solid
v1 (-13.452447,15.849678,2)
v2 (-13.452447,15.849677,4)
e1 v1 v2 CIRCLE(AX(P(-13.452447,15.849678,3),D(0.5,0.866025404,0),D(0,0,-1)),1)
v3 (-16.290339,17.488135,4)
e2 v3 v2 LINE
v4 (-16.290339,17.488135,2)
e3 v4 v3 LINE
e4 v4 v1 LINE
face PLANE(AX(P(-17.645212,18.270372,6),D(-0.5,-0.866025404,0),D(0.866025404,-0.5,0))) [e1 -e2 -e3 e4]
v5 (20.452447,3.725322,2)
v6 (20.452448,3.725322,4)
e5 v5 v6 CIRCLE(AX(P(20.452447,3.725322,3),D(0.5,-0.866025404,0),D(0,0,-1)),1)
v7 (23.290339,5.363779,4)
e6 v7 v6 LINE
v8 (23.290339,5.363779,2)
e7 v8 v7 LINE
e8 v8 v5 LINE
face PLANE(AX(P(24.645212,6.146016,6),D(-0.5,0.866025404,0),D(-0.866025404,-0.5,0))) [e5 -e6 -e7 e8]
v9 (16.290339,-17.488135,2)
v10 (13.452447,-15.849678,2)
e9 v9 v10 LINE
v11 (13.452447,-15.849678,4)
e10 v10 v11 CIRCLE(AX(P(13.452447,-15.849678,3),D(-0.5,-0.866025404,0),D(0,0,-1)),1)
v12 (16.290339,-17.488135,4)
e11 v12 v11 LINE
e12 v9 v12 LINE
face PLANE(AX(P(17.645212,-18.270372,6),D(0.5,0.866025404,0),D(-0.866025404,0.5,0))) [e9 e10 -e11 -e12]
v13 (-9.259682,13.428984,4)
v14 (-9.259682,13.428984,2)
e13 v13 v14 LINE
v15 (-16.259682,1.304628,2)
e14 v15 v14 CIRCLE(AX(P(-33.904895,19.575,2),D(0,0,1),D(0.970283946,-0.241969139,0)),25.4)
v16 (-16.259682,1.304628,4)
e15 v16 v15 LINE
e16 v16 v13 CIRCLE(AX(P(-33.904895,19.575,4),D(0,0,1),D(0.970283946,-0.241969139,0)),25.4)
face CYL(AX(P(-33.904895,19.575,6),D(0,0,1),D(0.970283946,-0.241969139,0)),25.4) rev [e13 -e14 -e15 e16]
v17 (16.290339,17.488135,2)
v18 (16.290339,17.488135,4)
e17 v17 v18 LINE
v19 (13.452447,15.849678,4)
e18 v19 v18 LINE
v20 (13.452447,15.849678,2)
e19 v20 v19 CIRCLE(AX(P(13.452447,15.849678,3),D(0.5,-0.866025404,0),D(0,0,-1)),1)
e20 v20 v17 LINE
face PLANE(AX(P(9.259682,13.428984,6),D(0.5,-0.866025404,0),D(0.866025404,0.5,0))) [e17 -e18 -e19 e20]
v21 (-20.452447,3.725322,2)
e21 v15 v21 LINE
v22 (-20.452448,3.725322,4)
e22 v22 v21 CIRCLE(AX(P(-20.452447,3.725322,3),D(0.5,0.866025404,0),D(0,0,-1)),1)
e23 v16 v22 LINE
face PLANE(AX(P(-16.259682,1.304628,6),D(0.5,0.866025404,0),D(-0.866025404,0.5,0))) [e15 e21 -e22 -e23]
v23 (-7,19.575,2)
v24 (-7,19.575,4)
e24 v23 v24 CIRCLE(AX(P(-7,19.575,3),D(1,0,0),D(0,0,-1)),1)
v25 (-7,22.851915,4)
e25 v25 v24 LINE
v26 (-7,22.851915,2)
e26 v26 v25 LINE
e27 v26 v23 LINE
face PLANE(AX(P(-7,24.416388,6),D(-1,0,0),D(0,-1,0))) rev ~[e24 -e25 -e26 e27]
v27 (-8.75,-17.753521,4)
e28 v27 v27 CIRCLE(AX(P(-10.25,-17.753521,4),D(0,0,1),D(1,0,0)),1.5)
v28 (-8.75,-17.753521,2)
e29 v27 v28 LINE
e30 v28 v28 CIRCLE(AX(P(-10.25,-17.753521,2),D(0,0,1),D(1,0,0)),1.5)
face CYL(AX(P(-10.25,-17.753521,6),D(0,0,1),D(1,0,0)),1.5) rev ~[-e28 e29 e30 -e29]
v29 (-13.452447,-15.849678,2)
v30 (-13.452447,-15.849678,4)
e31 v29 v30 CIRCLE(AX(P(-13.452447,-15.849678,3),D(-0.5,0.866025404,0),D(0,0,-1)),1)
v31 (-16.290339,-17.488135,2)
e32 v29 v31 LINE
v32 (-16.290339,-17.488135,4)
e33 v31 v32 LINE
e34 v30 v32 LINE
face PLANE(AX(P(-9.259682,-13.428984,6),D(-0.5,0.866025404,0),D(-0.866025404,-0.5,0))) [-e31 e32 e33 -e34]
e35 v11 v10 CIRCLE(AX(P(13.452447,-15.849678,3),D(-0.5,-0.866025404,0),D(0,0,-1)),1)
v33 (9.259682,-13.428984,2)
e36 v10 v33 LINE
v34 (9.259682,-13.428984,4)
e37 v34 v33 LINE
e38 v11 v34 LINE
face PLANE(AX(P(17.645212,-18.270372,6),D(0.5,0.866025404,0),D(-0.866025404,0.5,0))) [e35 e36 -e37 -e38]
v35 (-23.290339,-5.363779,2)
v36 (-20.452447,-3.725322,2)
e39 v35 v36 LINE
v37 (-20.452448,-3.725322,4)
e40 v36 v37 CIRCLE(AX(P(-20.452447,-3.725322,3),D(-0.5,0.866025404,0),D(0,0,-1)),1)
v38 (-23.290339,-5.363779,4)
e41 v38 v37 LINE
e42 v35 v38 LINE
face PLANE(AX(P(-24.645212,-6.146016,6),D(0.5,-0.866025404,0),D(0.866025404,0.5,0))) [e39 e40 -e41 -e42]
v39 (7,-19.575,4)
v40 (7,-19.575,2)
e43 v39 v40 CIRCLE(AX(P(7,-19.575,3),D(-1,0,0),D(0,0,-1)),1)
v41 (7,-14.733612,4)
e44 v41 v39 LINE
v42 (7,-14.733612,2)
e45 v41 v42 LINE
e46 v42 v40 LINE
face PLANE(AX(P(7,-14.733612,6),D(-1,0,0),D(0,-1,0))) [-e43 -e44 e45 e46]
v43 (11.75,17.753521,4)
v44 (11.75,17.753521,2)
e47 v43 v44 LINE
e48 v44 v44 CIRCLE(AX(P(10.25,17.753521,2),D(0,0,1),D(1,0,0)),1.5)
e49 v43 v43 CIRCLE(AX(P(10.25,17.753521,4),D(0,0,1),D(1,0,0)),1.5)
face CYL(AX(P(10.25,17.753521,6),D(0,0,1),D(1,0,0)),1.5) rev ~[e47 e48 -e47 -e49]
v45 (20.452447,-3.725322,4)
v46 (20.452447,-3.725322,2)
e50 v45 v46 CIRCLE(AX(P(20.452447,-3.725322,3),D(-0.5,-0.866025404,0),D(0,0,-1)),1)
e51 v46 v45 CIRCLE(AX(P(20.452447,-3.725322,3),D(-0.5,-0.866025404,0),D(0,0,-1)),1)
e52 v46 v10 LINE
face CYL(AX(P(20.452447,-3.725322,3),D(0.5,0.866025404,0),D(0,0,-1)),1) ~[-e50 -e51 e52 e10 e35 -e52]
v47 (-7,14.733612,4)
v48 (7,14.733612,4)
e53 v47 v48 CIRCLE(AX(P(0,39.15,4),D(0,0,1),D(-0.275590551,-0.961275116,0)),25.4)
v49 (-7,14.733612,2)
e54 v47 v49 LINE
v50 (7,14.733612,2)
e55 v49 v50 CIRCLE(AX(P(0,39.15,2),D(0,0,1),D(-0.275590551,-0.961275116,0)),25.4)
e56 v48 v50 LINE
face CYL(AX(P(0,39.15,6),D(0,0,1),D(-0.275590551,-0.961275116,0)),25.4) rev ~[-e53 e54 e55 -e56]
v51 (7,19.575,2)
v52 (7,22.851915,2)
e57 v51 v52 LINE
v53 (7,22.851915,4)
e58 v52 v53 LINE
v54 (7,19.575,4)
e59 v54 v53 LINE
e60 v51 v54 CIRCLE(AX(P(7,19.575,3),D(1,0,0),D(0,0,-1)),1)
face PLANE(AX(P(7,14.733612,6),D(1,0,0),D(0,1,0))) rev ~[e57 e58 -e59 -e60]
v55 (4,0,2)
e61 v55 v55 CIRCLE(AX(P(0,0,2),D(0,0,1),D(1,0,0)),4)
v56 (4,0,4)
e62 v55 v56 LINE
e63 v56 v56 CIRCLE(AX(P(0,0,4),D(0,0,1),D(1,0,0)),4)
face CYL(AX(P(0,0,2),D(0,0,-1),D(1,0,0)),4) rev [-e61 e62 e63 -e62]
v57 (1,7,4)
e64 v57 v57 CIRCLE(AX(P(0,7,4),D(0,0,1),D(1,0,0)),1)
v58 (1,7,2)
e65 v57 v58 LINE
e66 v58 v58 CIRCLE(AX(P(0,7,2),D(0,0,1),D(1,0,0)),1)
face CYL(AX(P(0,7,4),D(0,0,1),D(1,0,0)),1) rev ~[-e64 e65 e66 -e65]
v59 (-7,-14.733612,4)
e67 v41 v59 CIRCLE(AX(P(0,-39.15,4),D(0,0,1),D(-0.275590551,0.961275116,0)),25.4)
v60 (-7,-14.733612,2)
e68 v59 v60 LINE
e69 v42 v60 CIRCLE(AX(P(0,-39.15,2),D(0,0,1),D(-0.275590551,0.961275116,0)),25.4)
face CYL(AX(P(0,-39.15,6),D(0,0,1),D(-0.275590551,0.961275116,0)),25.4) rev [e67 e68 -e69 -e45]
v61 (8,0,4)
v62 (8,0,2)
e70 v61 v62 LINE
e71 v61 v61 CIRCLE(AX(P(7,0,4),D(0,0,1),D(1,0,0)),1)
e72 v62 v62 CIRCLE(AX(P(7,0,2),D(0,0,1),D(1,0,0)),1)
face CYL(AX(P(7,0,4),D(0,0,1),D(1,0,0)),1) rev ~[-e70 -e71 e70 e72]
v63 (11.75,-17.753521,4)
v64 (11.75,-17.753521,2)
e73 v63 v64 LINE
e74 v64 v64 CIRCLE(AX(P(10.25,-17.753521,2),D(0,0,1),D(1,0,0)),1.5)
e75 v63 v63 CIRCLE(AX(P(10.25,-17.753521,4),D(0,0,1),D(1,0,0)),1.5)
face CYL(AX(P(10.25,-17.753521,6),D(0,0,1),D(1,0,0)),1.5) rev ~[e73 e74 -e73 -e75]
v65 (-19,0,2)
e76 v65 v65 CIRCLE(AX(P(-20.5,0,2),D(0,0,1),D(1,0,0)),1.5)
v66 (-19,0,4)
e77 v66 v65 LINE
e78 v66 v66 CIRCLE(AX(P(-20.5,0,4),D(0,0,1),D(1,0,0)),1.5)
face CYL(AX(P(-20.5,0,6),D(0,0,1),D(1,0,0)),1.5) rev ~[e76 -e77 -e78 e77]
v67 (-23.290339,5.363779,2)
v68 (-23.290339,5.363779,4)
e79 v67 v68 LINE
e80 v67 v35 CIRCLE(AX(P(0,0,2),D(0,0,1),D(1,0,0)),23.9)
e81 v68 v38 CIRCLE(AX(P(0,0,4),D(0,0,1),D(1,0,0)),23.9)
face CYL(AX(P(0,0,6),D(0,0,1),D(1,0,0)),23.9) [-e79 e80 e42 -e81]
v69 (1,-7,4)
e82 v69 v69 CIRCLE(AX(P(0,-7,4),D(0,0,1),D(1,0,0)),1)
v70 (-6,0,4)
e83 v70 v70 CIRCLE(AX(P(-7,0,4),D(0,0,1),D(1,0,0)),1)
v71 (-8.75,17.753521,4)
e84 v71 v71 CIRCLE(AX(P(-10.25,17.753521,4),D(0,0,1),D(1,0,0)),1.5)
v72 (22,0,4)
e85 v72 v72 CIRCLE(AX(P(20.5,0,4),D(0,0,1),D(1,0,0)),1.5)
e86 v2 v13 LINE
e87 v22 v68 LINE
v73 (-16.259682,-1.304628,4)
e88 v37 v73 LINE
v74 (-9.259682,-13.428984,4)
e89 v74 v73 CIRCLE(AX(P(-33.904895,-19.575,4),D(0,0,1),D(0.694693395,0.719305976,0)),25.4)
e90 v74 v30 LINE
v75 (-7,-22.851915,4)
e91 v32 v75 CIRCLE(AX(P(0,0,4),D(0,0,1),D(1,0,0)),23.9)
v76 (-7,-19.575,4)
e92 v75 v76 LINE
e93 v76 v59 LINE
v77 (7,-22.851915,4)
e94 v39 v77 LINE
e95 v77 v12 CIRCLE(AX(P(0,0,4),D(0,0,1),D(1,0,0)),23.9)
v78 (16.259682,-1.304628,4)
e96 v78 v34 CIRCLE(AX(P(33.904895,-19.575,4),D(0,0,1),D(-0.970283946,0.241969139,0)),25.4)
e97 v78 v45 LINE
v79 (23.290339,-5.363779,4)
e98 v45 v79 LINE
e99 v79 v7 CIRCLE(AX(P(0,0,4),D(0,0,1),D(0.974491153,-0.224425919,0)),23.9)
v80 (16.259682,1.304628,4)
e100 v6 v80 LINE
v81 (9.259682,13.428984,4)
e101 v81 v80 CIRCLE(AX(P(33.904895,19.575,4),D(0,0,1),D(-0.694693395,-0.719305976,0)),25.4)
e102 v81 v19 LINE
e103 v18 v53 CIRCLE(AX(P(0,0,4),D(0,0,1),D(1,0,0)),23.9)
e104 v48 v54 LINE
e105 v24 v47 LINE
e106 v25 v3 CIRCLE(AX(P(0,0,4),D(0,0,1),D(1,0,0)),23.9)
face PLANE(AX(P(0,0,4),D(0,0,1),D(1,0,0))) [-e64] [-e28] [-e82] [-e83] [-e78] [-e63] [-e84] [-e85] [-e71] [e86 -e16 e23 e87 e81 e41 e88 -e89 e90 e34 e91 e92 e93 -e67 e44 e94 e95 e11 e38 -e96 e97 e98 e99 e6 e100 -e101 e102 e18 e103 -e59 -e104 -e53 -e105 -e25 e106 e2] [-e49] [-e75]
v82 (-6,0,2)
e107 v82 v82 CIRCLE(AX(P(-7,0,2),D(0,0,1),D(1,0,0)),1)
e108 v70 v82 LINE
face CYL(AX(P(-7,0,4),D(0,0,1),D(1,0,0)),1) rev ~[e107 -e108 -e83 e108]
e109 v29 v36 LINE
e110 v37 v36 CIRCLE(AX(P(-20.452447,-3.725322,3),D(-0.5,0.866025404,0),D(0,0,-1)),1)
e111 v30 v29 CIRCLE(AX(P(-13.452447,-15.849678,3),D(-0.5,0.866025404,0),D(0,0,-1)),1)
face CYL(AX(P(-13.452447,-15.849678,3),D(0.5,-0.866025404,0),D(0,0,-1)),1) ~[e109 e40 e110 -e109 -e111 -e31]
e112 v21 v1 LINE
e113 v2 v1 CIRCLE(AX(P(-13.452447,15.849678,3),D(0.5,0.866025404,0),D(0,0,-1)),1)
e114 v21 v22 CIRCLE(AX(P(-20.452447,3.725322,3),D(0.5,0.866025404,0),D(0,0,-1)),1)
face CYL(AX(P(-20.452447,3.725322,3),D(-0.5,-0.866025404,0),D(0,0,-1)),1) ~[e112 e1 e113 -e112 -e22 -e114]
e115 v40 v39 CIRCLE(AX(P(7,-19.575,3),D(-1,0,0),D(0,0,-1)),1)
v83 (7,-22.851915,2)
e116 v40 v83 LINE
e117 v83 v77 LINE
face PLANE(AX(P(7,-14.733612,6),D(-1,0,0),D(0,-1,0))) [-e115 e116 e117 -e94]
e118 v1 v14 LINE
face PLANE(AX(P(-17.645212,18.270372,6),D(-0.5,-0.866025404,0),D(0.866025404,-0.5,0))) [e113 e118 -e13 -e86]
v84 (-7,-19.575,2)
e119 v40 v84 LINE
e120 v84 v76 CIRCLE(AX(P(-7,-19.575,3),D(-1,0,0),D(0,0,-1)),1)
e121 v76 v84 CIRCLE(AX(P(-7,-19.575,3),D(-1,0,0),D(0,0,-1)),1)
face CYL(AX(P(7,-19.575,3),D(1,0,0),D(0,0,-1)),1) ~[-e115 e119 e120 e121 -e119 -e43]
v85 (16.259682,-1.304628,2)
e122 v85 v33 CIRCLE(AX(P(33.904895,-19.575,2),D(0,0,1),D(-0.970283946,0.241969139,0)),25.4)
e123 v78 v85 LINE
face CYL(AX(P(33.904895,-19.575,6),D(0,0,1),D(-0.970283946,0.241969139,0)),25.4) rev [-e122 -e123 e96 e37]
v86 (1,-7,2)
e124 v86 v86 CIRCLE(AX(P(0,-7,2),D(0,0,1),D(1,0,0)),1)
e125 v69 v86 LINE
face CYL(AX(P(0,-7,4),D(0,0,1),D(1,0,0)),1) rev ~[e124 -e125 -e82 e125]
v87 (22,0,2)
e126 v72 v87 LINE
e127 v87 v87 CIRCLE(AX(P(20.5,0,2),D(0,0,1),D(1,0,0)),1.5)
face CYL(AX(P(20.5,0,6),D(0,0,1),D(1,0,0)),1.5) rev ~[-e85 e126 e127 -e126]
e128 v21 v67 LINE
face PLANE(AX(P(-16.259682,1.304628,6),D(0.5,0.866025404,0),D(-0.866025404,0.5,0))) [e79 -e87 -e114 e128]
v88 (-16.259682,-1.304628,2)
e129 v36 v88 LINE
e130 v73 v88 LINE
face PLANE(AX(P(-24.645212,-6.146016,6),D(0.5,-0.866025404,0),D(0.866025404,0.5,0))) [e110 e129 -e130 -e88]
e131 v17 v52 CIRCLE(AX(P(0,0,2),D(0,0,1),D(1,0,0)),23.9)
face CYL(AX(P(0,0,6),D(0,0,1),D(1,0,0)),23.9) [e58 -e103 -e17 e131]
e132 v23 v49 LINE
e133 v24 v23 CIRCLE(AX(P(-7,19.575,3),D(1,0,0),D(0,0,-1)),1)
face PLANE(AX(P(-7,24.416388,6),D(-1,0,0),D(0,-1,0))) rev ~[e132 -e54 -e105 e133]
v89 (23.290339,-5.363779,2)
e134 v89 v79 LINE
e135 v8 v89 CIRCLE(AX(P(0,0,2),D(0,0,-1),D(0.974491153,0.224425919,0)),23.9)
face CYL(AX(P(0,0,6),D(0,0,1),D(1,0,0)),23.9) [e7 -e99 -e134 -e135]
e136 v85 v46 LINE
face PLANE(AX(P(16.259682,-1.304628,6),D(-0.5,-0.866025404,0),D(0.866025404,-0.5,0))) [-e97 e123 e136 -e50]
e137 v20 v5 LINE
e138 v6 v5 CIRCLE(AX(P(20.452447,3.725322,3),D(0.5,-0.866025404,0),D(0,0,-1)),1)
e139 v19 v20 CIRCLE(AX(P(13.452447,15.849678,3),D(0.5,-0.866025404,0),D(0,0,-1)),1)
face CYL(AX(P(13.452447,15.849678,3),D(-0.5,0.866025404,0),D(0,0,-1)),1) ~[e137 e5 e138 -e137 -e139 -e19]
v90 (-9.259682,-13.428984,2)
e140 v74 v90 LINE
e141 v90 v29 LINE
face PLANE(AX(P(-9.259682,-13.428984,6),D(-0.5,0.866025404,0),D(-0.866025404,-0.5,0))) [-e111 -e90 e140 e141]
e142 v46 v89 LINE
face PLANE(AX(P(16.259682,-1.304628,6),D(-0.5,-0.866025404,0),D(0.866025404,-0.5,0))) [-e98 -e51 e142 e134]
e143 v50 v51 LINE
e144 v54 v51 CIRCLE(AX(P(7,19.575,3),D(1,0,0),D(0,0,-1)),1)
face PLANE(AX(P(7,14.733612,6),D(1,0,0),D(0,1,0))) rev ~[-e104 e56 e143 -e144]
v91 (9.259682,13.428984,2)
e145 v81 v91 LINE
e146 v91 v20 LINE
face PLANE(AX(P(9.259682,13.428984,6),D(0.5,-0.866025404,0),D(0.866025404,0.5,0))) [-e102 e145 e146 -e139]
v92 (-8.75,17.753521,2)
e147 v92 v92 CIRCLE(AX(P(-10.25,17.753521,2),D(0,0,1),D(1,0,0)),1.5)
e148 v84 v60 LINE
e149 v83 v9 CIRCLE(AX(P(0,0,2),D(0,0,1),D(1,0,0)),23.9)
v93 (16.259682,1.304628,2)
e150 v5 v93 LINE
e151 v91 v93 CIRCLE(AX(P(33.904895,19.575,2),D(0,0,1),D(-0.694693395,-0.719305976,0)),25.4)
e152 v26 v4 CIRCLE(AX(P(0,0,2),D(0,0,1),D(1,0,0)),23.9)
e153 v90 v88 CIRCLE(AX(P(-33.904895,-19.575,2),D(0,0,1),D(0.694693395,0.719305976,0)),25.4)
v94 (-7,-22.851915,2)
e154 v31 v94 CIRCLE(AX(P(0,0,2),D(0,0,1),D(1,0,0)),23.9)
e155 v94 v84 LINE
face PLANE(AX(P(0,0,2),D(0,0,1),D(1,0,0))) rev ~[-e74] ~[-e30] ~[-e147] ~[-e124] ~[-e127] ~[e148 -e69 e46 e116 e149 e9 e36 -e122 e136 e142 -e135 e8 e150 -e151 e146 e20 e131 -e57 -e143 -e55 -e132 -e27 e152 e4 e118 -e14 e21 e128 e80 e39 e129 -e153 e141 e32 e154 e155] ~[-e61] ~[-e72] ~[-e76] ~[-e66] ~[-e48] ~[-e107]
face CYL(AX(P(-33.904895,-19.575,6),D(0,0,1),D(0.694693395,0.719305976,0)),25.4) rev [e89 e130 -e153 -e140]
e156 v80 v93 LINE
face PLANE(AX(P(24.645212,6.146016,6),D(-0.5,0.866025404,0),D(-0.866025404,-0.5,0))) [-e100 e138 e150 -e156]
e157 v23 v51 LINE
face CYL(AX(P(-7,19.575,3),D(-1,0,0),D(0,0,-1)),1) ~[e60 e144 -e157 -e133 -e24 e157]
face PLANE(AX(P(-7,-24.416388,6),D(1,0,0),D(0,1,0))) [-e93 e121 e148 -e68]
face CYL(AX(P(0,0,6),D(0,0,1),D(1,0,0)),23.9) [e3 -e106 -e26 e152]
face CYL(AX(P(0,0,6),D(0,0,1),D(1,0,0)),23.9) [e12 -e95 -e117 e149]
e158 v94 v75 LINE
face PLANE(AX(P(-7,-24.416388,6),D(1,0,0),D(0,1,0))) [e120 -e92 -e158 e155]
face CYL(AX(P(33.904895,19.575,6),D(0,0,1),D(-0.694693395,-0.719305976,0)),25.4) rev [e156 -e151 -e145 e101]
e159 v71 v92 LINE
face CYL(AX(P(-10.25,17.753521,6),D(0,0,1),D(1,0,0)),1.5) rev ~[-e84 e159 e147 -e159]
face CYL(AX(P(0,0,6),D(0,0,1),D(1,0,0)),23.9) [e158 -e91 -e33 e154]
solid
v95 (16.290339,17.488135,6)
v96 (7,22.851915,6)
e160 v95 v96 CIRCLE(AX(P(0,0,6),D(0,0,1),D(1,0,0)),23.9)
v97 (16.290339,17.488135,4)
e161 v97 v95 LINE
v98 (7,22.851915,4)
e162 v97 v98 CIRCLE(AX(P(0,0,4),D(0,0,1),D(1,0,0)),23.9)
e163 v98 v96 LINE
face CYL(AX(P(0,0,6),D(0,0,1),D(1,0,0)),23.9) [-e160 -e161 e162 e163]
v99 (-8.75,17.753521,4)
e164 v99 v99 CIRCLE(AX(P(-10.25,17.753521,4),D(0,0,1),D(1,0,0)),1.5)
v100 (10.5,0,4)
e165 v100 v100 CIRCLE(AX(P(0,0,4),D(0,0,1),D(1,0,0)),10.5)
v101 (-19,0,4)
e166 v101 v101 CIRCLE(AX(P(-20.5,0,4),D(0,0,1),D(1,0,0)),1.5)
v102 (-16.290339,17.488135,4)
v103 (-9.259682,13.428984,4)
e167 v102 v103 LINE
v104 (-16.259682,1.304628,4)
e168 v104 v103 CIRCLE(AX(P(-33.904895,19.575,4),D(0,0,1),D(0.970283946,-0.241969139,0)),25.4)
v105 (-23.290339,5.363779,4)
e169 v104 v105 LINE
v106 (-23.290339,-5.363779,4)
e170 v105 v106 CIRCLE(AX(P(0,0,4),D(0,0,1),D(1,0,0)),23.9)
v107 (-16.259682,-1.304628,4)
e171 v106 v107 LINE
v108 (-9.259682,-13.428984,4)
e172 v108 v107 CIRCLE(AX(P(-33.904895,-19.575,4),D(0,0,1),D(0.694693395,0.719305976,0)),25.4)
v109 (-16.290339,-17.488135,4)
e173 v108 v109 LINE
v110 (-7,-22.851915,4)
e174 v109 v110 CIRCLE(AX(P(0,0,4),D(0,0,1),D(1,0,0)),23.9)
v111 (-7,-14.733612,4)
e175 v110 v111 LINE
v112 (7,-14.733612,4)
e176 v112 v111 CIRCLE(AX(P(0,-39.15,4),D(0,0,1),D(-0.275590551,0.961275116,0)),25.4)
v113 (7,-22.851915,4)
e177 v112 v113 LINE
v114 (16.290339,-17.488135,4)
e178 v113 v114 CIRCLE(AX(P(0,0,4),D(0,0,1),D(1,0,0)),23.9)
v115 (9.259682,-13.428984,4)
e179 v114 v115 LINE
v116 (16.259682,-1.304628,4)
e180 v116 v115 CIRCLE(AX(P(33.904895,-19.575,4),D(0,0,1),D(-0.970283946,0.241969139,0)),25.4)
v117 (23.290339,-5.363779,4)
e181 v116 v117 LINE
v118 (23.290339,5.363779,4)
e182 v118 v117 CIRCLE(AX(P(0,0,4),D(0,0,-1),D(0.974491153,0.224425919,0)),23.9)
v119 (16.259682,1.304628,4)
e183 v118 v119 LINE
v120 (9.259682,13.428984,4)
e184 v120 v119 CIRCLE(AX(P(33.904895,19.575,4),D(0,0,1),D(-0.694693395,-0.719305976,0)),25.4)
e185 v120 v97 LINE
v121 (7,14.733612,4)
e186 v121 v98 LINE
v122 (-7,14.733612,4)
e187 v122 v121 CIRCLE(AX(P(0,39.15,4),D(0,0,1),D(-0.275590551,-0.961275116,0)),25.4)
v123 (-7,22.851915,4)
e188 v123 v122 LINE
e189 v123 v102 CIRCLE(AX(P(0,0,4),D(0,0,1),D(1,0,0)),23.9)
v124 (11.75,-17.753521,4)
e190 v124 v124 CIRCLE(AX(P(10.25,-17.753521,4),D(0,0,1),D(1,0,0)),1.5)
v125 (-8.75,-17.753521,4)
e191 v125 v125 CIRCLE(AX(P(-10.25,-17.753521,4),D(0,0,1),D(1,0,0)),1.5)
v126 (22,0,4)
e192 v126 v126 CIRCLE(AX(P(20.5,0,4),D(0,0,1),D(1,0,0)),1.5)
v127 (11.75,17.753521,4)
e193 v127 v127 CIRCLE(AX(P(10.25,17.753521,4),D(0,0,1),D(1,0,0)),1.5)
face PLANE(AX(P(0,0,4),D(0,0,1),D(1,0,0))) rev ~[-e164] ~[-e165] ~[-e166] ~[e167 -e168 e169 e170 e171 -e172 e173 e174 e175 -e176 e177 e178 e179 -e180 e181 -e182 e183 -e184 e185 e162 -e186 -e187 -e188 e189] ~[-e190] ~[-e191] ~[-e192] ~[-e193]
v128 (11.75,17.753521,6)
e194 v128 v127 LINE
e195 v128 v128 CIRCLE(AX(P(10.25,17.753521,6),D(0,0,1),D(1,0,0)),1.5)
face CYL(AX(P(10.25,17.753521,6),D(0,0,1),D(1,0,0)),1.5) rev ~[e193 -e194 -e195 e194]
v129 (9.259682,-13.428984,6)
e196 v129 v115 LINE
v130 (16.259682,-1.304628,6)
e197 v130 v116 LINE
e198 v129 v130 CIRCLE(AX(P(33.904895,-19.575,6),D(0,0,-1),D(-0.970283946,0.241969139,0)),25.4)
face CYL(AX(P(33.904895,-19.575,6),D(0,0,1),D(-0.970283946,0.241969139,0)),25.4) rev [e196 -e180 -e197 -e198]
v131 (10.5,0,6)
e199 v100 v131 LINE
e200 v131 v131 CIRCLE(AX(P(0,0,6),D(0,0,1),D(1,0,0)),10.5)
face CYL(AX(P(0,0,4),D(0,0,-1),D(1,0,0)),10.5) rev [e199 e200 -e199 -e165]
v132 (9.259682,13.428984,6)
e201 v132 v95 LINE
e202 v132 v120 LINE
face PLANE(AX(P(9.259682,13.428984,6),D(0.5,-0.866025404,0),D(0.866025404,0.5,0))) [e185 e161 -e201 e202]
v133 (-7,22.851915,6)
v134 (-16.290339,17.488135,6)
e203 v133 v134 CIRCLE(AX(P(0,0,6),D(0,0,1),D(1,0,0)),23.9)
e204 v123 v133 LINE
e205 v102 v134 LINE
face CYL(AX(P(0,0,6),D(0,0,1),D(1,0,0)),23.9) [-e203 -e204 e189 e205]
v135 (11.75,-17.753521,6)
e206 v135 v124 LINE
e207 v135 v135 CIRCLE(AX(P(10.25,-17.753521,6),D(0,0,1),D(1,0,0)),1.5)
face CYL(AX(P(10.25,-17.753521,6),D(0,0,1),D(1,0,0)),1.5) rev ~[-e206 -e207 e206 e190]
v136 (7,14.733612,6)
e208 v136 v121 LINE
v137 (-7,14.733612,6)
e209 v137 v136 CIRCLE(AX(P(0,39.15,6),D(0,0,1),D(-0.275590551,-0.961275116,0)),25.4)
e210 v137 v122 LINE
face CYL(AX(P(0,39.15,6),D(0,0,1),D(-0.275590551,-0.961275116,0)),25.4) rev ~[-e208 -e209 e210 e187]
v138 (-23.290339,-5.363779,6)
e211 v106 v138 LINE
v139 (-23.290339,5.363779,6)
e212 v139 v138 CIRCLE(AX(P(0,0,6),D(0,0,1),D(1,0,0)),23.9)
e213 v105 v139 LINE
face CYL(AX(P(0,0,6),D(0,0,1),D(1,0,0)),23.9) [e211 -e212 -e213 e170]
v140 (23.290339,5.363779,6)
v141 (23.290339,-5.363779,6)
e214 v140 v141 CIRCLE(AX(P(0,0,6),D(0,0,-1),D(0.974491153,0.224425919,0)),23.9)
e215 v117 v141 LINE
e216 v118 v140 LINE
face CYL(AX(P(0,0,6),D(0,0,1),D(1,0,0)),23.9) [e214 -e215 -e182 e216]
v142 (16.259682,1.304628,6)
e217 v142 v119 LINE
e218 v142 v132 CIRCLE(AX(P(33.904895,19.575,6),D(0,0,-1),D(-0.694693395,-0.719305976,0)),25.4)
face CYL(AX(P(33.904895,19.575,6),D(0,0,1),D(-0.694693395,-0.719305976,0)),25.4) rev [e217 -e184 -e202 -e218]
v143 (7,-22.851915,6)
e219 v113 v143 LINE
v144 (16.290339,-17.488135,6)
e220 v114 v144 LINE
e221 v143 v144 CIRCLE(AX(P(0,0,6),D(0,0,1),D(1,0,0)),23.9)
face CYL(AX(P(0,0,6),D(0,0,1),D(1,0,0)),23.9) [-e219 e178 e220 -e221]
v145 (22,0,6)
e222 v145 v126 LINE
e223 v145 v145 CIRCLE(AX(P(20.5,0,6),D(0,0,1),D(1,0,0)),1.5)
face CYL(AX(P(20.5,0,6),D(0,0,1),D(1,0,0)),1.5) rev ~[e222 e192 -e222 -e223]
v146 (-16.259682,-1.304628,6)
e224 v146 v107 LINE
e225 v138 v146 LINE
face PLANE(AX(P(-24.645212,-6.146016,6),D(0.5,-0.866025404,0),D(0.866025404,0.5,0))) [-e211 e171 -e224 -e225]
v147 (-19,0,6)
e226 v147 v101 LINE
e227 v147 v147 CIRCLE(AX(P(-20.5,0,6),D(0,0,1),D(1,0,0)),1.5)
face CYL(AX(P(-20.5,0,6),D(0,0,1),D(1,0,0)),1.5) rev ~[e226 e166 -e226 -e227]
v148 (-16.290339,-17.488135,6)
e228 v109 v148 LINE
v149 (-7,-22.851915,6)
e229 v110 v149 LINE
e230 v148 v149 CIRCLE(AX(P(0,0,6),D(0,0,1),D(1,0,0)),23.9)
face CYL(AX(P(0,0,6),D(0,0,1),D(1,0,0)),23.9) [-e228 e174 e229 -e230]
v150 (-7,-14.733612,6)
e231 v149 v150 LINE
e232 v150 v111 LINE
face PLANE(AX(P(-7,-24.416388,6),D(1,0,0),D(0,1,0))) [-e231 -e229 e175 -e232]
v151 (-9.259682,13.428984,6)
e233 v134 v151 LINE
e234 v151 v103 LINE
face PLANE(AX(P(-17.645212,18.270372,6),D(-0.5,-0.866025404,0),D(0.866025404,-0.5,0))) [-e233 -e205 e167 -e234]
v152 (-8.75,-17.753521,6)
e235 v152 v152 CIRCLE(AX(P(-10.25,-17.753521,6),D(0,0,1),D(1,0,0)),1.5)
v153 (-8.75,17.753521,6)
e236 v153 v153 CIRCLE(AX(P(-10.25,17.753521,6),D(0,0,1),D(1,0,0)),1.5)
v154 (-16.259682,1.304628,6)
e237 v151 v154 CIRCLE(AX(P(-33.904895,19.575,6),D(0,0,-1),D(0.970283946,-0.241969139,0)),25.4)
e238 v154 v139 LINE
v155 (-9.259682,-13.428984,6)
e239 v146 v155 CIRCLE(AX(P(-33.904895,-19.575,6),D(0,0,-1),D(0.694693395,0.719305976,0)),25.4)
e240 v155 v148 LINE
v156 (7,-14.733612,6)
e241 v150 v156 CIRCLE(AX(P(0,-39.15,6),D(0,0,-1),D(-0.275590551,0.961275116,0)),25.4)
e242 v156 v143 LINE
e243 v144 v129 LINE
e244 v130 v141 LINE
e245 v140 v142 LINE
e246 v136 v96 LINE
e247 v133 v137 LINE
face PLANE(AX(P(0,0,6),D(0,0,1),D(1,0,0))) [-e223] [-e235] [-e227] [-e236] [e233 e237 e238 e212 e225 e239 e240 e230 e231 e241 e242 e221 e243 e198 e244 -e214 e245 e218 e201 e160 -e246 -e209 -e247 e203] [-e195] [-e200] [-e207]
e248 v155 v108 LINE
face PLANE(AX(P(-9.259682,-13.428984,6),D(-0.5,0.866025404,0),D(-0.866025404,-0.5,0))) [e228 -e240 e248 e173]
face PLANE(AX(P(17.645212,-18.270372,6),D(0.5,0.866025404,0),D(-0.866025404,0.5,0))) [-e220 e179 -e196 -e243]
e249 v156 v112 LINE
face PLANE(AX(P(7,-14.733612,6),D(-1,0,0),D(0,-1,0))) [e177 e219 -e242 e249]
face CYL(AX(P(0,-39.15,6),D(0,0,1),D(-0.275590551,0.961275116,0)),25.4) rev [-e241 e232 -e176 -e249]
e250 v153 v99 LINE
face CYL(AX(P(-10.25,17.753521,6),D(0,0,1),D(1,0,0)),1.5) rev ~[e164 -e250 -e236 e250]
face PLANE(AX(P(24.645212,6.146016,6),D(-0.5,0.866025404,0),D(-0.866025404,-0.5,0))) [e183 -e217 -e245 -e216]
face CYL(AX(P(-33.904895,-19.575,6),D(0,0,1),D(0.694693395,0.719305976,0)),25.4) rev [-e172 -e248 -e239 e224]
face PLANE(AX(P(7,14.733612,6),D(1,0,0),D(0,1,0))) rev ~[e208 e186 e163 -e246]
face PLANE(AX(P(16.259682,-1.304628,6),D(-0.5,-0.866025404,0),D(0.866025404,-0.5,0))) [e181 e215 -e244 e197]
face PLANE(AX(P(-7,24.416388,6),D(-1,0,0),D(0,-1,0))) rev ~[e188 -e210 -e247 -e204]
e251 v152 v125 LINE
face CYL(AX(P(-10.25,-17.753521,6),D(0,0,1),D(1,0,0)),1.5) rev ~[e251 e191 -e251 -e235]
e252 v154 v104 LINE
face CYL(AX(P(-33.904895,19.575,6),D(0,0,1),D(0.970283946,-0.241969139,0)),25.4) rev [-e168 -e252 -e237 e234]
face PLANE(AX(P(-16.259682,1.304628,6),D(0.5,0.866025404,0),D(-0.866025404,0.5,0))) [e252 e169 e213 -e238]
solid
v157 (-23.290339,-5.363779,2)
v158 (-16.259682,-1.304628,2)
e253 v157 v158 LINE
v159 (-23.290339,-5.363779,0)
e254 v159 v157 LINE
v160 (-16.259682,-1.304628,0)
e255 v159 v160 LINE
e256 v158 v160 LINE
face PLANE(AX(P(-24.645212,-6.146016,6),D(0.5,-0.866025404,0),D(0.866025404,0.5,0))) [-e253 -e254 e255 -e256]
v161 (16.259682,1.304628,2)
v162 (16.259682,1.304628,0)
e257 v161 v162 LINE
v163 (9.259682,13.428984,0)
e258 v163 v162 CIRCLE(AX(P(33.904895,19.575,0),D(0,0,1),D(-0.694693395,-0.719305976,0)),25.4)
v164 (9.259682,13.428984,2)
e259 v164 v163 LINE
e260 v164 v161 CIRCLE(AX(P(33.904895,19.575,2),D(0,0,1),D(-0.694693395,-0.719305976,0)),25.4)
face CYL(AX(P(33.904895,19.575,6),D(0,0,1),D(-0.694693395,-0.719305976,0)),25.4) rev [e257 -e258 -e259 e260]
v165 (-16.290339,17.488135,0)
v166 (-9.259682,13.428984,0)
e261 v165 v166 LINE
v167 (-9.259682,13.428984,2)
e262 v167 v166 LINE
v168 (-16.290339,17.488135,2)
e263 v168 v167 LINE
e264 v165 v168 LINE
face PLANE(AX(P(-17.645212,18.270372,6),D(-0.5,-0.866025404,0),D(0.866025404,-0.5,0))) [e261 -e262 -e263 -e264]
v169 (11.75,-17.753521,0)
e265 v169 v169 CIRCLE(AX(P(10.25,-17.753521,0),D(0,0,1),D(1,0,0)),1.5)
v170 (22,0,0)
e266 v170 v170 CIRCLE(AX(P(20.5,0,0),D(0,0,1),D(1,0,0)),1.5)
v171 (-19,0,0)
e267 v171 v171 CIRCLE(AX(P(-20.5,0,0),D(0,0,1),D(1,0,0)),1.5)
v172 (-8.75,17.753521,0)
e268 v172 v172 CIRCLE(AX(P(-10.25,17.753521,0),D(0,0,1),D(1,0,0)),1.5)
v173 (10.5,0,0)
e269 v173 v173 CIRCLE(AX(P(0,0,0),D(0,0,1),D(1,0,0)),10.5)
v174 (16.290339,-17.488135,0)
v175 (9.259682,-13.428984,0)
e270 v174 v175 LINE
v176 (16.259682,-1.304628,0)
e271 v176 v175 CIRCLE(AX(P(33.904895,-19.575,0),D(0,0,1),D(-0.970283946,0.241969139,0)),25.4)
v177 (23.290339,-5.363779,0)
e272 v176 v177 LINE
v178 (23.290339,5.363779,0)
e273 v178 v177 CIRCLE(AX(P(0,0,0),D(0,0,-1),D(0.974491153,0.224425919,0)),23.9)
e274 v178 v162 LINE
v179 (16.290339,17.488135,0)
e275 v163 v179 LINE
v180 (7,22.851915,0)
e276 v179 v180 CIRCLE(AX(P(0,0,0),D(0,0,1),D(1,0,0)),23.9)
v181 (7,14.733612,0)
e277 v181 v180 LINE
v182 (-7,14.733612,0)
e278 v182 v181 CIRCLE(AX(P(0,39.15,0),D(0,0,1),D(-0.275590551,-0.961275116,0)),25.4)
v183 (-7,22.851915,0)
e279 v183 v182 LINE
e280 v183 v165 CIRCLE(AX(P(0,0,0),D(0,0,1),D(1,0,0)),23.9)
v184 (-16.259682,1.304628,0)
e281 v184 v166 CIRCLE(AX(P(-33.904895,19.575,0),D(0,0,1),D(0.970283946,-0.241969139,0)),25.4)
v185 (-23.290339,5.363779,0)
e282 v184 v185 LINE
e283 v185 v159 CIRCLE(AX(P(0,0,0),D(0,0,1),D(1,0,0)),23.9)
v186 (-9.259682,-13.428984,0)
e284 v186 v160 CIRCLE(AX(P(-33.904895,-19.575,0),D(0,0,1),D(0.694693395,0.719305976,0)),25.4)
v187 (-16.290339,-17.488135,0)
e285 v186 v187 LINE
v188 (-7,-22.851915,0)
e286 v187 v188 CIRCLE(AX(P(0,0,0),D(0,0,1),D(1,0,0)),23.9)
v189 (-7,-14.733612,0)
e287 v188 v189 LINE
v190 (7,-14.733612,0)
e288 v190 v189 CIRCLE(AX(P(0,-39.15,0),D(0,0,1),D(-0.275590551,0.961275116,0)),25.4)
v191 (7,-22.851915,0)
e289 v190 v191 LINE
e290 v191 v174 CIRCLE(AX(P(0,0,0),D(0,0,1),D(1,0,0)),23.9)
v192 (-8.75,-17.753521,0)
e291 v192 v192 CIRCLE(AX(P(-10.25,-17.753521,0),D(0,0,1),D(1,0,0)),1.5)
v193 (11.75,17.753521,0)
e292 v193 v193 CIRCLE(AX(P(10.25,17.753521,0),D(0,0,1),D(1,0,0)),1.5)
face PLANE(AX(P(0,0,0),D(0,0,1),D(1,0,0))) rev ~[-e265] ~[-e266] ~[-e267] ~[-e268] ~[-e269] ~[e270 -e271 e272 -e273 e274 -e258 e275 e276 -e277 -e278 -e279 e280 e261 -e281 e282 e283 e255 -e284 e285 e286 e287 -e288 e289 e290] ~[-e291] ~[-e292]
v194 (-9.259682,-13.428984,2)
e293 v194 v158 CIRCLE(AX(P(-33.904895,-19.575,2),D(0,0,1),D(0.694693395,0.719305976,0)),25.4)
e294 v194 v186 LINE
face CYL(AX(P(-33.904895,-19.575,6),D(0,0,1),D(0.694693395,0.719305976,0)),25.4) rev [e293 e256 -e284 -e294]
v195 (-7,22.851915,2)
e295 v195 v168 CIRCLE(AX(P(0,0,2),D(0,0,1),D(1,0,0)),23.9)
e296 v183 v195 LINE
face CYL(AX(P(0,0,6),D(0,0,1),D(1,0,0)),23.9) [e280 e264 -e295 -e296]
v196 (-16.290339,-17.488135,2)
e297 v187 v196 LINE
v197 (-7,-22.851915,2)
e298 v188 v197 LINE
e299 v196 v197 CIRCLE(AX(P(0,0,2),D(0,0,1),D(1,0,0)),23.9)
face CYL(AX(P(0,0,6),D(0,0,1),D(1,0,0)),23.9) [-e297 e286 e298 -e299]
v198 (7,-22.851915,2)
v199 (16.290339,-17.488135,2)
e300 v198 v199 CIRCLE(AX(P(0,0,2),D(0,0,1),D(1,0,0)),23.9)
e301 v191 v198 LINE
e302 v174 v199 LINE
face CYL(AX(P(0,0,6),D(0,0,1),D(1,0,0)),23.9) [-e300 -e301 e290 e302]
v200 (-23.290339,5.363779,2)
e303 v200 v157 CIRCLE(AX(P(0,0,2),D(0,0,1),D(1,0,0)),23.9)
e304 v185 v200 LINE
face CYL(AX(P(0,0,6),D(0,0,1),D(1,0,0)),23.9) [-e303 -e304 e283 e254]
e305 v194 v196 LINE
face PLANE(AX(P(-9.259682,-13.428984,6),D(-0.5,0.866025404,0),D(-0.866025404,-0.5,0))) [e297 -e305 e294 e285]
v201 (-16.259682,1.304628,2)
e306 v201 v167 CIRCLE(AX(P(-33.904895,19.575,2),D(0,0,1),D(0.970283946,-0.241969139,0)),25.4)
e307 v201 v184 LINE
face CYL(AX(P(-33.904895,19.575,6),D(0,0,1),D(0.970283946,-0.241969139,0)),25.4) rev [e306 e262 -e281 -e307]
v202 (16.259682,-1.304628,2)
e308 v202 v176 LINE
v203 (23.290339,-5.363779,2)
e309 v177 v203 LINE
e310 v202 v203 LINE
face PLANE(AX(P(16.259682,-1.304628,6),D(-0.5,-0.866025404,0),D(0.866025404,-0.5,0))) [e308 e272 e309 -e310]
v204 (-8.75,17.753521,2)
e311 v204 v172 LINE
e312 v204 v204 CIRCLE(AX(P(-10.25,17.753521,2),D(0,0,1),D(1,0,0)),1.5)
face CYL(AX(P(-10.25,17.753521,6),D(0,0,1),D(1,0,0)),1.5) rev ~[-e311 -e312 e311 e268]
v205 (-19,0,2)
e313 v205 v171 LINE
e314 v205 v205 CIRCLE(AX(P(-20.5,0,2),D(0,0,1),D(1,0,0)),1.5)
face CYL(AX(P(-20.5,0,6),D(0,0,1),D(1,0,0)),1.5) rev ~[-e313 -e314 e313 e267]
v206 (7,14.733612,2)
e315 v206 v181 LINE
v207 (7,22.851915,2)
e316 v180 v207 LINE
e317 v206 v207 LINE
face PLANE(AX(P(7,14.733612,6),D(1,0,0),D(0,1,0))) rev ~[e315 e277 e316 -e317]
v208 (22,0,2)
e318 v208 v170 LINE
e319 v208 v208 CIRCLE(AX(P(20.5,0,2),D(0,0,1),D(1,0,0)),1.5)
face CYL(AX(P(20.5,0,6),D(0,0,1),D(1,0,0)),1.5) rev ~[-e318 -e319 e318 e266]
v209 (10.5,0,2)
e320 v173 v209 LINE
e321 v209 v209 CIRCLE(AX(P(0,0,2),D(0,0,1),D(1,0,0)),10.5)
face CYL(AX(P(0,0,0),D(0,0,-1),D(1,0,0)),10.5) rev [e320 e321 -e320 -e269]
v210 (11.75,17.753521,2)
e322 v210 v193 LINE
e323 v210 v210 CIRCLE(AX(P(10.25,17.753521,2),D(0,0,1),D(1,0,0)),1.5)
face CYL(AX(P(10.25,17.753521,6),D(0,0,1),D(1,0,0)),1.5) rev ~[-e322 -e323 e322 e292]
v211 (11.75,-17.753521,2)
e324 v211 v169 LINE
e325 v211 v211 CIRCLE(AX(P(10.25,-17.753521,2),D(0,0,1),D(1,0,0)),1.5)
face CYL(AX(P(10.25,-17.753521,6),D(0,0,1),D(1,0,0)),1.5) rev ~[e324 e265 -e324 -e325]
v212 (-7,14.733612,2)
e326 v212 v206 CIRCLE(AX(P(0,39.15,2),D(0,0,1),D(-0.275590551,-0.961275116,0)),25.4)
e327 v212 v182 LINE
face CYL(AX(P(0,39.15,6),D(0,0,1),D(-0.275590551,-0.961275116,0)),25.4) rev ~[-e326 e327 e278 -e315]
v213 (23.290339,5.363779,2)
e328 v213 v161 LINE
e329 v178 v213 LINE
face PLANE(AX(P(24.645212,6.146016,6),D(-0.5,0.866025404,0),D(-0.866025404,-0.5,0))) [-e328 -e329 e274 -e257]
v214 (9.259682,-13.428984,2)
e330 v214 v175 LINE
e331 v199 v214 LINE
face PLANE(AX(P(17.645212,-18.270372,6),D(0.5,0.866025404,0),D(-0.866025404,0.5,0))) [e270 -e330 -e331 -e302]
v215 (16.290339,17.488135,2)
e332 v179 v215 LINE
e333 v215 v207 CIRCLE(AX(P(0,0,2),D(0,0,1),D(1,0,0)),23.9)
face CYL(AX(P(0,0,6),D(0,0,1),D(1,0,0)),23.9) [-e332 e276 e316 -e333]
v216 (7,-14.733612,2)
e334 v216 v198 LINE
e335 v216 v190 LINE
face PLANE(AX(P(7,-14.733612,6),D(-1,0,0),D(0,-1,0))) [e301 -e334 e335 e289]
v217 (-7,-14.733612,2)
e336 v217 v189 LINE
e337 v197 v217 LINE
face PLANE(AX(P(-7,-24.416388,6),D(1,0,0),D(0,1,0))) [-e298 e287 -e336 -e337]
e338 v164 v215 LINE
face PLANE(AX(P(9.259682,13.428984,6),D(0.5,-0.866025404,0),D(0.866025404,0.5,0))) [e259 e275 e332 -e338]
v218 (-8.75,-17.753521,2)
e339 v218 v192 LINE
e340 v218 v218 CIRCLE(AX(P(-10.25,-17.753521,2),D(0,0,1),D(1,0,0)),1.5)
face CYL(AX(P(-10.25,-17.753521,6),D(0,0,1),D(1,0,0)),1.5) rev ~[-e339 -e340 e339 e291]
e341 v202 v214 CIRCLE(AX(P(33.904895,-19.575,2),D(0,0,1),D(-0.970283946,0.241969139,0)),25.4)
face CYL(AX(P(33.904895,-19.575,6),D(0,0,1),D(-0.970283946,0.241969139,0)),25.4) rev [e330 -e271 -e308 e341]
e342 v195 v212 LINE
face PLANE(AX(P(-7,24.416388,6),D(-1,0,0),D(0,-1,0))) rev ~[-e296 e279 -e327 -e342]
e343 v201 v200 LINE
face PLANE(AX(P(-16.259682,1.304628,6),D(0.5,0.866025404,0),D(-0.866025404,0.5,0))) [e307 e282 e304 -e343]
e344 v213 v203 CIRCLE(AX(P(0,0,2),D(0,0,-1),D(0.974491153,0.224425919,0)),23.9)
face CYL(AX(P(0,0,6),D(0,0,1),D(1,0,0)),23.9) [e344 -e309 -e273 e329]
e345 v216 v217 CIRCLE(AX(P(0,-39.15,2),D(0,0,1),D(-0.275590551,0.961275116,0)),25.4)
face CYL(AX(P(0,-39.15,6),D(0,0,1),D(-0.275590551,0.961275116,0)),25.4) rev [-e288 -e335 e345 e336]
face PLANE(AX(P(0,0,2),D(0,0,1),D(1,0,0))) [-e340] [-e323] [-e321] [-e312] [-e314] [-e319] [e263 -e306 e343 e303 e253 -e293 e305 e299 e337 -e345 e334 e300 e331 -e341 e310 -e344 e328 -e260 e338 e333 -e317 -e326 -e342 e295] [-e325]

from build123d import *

# Parameters (mm, degrees)
SKETCH_1_R               = 25.4
SKETCH_1_R_2             = 10.5
EXTRUDE_1_DEPTH          = 2
SKETCH_2_R               = 25.4
SKETCH_2_R_2             = 4
EXTRUDE_2_DEPTH          = 2
SKETCH_3_R               = 25.4
SKETCH_3_R_2             = 10.5
EXTRUDE_3_DEPTH          = 2
CUT_EXTRUDE_1_DEPTH      = 20.5
SKETCH_5_R               = 1.5
CUT_EXTRUDE_2_DEPTH      = 20.5
SKETCH_6_R               = 1
EXTRUDE_4_DEPTH          = 14
PATTERN_CIRCULAR_1_COUNT = 6
SKETCH_7_R               = 1
CUT_EXTRUDE_3_DEPTH      = 14
SKETCH_8_R               = 33.9
SKETCH_8_R_2             = 23.9
CUT_EXTRUDE_1_2_DEPTH    = 10


with BuildPart() as part:
    # 草图1 → 凸台-拉伸1 (new body)
    with BuildSketch(Plane.XY):
        Circle(SKETCH_1_R)
        Circle(SKETCH_1_R_2, mode=Mode.SUBTRACT)
    extrude(amount=EXTRUDE_1_DEPTH)


with BuildPart() as body_2:
    # 草图2 → 凸台-拉伸2 (new body)
    with BuildSketch(Plane.XY.offset(2)):
        Circle(SKETCH_2_R)
        Circle(SKETCH_2_R_2, mode=Mode.SUBTRACT)
    extrude(amount=EXTRUDE_2_DEPTH)


with BuildPart() as body_3:
    # 草图3 → 凸台-拉伸3 (new body)
    with BuildSketch(Plane.XY.offset(4)):
        Circle(SKETCH_3_R)
        Circle(SKETCH_3_R_2, mode=Mode.SUBTRACT)
    extrude(amount=EXTRUDE_3_DEPTH)


with BuildPart() as cut_extrude_1_tool:
    # 草图4 → Cut-Extrude 1 (new body)
    with BuildSketch(Plane.XY.offset(6)):
        with BuildLine():
            Line((9.259682334, 13.428983857), (17.645212224, 18.270371796))
            ThreePointArc((17.645212224, 18.270371796), (21.997045256, 12.7), (24.645212224, 6.146016143))
            Line((24.645212224, 6.146016143), (16.259682334, 1.304628204))
            ThreePointArc((16.259682334, 1.304628204), (11.907849302, 6.875), (9.259682334, 13.428983857))
        make_face()
        with BuildLine():
            Line((7, 14.733612061), (7, 24.416387939))
            ThreePointArc((7, 24.416387939), (0, 25.4), (-7, 24.416387939))
            Line((-7, 24.416387939), (-7, 14.733612061))
            ThreePointArc((-7, 14.733612061), (0, 13.75), (7, 14.733612061))
        make_face()
        with BuildLine():
            Line((16.259682334, -1.304628204), (24.645212224, -6.146016143))
            ThreePointArc((24.645212224, -6.146016143), (21.997045256, -12.7), (17.645212224, -18.270371796))
            Line((17.645212224, -18.270371796), (9.259682334, -13.428983857))
            ThreePointArc((9.259682334, -13.428983857), (11.907849302, -6.875), (16.259682334, -1.304628204))
        make_face()
        with BuildLine():
            Line((7, -14.733612061), (7, -24.416387939))
            ThreePointArc((7, -24.416387939), (0, -25.4), (-7, -24.416387939))
            Line((-7, -24.416387939), (-7, -14.733612061))
            ThreePointArc((-7, -14.733612061), (0, -13.75), (7, -14.733612061))
        make_face()
        with BuildLine():
            Line((-9.259682334, -13.428983857), (-17.645212224, -18.270371796))
            ThreePointArc((-17.645212224, -18.270371796), (-21.997045256, -12.7), (-24.645212224, -6.146016143))
            Line((-24.645212224, -6.146016143), (-16.259682334, -1.304628204))
            ThreePointArc((-16.259682334, -1.304628204), (-11.907849302, -6.875), (-9.259682334, -13.428983857))
        make_face()
        with BuildLine():
            Line((-16.259682334, 1.304628204), (-24.645212224, 6.146016143))
            ThreePointArc((-24.645212224, 6.146016143), (-21.997045256, 12.7), (-17.645212224, 18.270371796))
            Line((-17.645212224, 18.270371796), (-9.259682334, 13.428983857))
            ThreePointArc((-9.259682334, 13.428983857), (-11.907849302, 6.875), (-16.259682334, 1.304628204))
        make_face()
    extrude(amount=-CUT_EXTRUDE_1_DEPTH)


with BuildPart() as part_1:
    add(part.part)

    # Cut-Extrude 1: cut by cut_extrude_1_tool
    add(cut_extrude_1_tool.part, mode=Mode.SUBTRACT)


with BuildPart() as body_2_1:
    add(body_2.part)

    # Cut-Extrude 1: cut by cut_extrude_1_tool
    add(cut_extrude_1_tool.part, mode=Mode.SUBTRACT)


with BuildPart() as body_3_1:
    add(body_3.part)

    # Cut-Extrude 1: cut by cut_extrude_1_tool
    add(cut_extrude_1_tool.part, mode=Mode.SUBTRACT)


with BuildPart() as cut_extrude_2_tool:
    # 草图5 → 切除-拉伸2 (new body)
    with BuildSketch(Plane.XY.offset(6)):
        with Locations((10.25, 17.753520778)):
            Circle(SKETCH_5_R)
        with Locations((20.5, 0)):
            Circle(SKETCH_5_R)
        with Locations((10.25, -17.753520778)):
            Circle(SKETCH_5_R)
        with Locations((-10.25, -17.753520778)):
            Circle(SKETCH_5_R)
        with Locations((-20.5, 0)):
            Circle(SKETCH_5_R)
        with Locations((-10.25, 17.753520778)):
            Circle(SKETCH_5_R)
    extrude(amount=-CUT_EXTRUDE_2_DEPTH)


with BuildPart() as part_2:
    add(part_1.part)

    # 切除-拉伸2: cut by cut_extrude_2_tool
    add(cut_extrude_2_tool.part, mode=Mode.SUBTRACT)


with BuildPart() as body_2_2:
    add(body_2_1.part)

    # 切除-拉伸2: cut by cut_extrude_2_tool
    add(cut_extrude_2_tool.part, mode=Mode.SUBTRACT)

    # 草图6 → 凸台-拉伸4 (add)
    with BuildSketch(Plane(origin=(-7, 0, 0), x_dir=(0, 0, -1), z_dir=(1, 0, 0))):
        with Locations((-3, 19.575)):
            Circle(SKETCH_6_R)
    extrude_4 = extrude(amount=EXTRUDE_4_DEPTH)

    # 阵列(圆周)1: 凸台-拉伸4 ×6 about axis
    pattern_circular_1_axis = Axis((0, 0, 6), (0, 0, 1))
    for i in range(1, PATTERN_CIRCULAR_1_COUNT):
        add(extrude_4.rotate(pattern_circular_1_axis, i * 360 / PATTERN_CIRCULAR_1_COUNT))

    # 草图7 → 切除-拉伸3 (cut)
    with BuildSketch(Plane.XY.offset(4)):
        with Locations((0, 7)):
            Circle(SKETCH_7_R)
        with Locations((7, 0)):
            Circle(SKETCH_7_R)
        with Locations((0, -7)):
            Circle(SKETCH_7_R)
        with Locations((-7, 0)):
            Circle(SKETCH_7_R)
    extrude(amount=-CUT_EXTRUDE_3_DEPTH, mode=Mode.SUBTRACT)


with BuildPart() as body_3_2:
    add(body_3_1.part)

    # 切除-拉伸2: cut by cut_extrude_2_tool
    add(cut_extrude_2_tool.part, mode=Mode.SUBTRACT)


with BuildPart() as cut_extrude_1_2_tool:
    # 草图8 → Cut-Extrude 1 2 (new body)
    with BuildSketch(Plane.XY.offset(6)):
        Circle(SKETCH_8_R)
        Circle(SKETCH_8_R_2, mode=Mode.SUBTRACT)
    extrude(amount=-CUT_EXTRUDE_1_2_DEPTH)


with BuildPart() as part_3:
    add(part_2.part)

    # Cut-Extrude 1 2: cut by cut_extrude_1_2_tool
    add(cut_extrude_1_2_tool.part, mode=Mode.SUBTRACT)


with BuildPart() as body_2_3:
    add(body_2_2.part)

    # Cut-Extrude 1 2: cut by cut_extrude_1_2_tool
    add(cut_extrude_1_2_tool.part, mode=Mode.SUBTRACT)


with BuildPart() as body_3_3:
    add(body_3_2.part)

    # Cut-Extrude 1 2: cut by cut_extrude_1_2_tool
    add(cut_extrude_1_2_tool.part, mode=Mode.SUBTRACT)


solid = Compound([part_3.part, body_2_3.part, body_3_3.part])
